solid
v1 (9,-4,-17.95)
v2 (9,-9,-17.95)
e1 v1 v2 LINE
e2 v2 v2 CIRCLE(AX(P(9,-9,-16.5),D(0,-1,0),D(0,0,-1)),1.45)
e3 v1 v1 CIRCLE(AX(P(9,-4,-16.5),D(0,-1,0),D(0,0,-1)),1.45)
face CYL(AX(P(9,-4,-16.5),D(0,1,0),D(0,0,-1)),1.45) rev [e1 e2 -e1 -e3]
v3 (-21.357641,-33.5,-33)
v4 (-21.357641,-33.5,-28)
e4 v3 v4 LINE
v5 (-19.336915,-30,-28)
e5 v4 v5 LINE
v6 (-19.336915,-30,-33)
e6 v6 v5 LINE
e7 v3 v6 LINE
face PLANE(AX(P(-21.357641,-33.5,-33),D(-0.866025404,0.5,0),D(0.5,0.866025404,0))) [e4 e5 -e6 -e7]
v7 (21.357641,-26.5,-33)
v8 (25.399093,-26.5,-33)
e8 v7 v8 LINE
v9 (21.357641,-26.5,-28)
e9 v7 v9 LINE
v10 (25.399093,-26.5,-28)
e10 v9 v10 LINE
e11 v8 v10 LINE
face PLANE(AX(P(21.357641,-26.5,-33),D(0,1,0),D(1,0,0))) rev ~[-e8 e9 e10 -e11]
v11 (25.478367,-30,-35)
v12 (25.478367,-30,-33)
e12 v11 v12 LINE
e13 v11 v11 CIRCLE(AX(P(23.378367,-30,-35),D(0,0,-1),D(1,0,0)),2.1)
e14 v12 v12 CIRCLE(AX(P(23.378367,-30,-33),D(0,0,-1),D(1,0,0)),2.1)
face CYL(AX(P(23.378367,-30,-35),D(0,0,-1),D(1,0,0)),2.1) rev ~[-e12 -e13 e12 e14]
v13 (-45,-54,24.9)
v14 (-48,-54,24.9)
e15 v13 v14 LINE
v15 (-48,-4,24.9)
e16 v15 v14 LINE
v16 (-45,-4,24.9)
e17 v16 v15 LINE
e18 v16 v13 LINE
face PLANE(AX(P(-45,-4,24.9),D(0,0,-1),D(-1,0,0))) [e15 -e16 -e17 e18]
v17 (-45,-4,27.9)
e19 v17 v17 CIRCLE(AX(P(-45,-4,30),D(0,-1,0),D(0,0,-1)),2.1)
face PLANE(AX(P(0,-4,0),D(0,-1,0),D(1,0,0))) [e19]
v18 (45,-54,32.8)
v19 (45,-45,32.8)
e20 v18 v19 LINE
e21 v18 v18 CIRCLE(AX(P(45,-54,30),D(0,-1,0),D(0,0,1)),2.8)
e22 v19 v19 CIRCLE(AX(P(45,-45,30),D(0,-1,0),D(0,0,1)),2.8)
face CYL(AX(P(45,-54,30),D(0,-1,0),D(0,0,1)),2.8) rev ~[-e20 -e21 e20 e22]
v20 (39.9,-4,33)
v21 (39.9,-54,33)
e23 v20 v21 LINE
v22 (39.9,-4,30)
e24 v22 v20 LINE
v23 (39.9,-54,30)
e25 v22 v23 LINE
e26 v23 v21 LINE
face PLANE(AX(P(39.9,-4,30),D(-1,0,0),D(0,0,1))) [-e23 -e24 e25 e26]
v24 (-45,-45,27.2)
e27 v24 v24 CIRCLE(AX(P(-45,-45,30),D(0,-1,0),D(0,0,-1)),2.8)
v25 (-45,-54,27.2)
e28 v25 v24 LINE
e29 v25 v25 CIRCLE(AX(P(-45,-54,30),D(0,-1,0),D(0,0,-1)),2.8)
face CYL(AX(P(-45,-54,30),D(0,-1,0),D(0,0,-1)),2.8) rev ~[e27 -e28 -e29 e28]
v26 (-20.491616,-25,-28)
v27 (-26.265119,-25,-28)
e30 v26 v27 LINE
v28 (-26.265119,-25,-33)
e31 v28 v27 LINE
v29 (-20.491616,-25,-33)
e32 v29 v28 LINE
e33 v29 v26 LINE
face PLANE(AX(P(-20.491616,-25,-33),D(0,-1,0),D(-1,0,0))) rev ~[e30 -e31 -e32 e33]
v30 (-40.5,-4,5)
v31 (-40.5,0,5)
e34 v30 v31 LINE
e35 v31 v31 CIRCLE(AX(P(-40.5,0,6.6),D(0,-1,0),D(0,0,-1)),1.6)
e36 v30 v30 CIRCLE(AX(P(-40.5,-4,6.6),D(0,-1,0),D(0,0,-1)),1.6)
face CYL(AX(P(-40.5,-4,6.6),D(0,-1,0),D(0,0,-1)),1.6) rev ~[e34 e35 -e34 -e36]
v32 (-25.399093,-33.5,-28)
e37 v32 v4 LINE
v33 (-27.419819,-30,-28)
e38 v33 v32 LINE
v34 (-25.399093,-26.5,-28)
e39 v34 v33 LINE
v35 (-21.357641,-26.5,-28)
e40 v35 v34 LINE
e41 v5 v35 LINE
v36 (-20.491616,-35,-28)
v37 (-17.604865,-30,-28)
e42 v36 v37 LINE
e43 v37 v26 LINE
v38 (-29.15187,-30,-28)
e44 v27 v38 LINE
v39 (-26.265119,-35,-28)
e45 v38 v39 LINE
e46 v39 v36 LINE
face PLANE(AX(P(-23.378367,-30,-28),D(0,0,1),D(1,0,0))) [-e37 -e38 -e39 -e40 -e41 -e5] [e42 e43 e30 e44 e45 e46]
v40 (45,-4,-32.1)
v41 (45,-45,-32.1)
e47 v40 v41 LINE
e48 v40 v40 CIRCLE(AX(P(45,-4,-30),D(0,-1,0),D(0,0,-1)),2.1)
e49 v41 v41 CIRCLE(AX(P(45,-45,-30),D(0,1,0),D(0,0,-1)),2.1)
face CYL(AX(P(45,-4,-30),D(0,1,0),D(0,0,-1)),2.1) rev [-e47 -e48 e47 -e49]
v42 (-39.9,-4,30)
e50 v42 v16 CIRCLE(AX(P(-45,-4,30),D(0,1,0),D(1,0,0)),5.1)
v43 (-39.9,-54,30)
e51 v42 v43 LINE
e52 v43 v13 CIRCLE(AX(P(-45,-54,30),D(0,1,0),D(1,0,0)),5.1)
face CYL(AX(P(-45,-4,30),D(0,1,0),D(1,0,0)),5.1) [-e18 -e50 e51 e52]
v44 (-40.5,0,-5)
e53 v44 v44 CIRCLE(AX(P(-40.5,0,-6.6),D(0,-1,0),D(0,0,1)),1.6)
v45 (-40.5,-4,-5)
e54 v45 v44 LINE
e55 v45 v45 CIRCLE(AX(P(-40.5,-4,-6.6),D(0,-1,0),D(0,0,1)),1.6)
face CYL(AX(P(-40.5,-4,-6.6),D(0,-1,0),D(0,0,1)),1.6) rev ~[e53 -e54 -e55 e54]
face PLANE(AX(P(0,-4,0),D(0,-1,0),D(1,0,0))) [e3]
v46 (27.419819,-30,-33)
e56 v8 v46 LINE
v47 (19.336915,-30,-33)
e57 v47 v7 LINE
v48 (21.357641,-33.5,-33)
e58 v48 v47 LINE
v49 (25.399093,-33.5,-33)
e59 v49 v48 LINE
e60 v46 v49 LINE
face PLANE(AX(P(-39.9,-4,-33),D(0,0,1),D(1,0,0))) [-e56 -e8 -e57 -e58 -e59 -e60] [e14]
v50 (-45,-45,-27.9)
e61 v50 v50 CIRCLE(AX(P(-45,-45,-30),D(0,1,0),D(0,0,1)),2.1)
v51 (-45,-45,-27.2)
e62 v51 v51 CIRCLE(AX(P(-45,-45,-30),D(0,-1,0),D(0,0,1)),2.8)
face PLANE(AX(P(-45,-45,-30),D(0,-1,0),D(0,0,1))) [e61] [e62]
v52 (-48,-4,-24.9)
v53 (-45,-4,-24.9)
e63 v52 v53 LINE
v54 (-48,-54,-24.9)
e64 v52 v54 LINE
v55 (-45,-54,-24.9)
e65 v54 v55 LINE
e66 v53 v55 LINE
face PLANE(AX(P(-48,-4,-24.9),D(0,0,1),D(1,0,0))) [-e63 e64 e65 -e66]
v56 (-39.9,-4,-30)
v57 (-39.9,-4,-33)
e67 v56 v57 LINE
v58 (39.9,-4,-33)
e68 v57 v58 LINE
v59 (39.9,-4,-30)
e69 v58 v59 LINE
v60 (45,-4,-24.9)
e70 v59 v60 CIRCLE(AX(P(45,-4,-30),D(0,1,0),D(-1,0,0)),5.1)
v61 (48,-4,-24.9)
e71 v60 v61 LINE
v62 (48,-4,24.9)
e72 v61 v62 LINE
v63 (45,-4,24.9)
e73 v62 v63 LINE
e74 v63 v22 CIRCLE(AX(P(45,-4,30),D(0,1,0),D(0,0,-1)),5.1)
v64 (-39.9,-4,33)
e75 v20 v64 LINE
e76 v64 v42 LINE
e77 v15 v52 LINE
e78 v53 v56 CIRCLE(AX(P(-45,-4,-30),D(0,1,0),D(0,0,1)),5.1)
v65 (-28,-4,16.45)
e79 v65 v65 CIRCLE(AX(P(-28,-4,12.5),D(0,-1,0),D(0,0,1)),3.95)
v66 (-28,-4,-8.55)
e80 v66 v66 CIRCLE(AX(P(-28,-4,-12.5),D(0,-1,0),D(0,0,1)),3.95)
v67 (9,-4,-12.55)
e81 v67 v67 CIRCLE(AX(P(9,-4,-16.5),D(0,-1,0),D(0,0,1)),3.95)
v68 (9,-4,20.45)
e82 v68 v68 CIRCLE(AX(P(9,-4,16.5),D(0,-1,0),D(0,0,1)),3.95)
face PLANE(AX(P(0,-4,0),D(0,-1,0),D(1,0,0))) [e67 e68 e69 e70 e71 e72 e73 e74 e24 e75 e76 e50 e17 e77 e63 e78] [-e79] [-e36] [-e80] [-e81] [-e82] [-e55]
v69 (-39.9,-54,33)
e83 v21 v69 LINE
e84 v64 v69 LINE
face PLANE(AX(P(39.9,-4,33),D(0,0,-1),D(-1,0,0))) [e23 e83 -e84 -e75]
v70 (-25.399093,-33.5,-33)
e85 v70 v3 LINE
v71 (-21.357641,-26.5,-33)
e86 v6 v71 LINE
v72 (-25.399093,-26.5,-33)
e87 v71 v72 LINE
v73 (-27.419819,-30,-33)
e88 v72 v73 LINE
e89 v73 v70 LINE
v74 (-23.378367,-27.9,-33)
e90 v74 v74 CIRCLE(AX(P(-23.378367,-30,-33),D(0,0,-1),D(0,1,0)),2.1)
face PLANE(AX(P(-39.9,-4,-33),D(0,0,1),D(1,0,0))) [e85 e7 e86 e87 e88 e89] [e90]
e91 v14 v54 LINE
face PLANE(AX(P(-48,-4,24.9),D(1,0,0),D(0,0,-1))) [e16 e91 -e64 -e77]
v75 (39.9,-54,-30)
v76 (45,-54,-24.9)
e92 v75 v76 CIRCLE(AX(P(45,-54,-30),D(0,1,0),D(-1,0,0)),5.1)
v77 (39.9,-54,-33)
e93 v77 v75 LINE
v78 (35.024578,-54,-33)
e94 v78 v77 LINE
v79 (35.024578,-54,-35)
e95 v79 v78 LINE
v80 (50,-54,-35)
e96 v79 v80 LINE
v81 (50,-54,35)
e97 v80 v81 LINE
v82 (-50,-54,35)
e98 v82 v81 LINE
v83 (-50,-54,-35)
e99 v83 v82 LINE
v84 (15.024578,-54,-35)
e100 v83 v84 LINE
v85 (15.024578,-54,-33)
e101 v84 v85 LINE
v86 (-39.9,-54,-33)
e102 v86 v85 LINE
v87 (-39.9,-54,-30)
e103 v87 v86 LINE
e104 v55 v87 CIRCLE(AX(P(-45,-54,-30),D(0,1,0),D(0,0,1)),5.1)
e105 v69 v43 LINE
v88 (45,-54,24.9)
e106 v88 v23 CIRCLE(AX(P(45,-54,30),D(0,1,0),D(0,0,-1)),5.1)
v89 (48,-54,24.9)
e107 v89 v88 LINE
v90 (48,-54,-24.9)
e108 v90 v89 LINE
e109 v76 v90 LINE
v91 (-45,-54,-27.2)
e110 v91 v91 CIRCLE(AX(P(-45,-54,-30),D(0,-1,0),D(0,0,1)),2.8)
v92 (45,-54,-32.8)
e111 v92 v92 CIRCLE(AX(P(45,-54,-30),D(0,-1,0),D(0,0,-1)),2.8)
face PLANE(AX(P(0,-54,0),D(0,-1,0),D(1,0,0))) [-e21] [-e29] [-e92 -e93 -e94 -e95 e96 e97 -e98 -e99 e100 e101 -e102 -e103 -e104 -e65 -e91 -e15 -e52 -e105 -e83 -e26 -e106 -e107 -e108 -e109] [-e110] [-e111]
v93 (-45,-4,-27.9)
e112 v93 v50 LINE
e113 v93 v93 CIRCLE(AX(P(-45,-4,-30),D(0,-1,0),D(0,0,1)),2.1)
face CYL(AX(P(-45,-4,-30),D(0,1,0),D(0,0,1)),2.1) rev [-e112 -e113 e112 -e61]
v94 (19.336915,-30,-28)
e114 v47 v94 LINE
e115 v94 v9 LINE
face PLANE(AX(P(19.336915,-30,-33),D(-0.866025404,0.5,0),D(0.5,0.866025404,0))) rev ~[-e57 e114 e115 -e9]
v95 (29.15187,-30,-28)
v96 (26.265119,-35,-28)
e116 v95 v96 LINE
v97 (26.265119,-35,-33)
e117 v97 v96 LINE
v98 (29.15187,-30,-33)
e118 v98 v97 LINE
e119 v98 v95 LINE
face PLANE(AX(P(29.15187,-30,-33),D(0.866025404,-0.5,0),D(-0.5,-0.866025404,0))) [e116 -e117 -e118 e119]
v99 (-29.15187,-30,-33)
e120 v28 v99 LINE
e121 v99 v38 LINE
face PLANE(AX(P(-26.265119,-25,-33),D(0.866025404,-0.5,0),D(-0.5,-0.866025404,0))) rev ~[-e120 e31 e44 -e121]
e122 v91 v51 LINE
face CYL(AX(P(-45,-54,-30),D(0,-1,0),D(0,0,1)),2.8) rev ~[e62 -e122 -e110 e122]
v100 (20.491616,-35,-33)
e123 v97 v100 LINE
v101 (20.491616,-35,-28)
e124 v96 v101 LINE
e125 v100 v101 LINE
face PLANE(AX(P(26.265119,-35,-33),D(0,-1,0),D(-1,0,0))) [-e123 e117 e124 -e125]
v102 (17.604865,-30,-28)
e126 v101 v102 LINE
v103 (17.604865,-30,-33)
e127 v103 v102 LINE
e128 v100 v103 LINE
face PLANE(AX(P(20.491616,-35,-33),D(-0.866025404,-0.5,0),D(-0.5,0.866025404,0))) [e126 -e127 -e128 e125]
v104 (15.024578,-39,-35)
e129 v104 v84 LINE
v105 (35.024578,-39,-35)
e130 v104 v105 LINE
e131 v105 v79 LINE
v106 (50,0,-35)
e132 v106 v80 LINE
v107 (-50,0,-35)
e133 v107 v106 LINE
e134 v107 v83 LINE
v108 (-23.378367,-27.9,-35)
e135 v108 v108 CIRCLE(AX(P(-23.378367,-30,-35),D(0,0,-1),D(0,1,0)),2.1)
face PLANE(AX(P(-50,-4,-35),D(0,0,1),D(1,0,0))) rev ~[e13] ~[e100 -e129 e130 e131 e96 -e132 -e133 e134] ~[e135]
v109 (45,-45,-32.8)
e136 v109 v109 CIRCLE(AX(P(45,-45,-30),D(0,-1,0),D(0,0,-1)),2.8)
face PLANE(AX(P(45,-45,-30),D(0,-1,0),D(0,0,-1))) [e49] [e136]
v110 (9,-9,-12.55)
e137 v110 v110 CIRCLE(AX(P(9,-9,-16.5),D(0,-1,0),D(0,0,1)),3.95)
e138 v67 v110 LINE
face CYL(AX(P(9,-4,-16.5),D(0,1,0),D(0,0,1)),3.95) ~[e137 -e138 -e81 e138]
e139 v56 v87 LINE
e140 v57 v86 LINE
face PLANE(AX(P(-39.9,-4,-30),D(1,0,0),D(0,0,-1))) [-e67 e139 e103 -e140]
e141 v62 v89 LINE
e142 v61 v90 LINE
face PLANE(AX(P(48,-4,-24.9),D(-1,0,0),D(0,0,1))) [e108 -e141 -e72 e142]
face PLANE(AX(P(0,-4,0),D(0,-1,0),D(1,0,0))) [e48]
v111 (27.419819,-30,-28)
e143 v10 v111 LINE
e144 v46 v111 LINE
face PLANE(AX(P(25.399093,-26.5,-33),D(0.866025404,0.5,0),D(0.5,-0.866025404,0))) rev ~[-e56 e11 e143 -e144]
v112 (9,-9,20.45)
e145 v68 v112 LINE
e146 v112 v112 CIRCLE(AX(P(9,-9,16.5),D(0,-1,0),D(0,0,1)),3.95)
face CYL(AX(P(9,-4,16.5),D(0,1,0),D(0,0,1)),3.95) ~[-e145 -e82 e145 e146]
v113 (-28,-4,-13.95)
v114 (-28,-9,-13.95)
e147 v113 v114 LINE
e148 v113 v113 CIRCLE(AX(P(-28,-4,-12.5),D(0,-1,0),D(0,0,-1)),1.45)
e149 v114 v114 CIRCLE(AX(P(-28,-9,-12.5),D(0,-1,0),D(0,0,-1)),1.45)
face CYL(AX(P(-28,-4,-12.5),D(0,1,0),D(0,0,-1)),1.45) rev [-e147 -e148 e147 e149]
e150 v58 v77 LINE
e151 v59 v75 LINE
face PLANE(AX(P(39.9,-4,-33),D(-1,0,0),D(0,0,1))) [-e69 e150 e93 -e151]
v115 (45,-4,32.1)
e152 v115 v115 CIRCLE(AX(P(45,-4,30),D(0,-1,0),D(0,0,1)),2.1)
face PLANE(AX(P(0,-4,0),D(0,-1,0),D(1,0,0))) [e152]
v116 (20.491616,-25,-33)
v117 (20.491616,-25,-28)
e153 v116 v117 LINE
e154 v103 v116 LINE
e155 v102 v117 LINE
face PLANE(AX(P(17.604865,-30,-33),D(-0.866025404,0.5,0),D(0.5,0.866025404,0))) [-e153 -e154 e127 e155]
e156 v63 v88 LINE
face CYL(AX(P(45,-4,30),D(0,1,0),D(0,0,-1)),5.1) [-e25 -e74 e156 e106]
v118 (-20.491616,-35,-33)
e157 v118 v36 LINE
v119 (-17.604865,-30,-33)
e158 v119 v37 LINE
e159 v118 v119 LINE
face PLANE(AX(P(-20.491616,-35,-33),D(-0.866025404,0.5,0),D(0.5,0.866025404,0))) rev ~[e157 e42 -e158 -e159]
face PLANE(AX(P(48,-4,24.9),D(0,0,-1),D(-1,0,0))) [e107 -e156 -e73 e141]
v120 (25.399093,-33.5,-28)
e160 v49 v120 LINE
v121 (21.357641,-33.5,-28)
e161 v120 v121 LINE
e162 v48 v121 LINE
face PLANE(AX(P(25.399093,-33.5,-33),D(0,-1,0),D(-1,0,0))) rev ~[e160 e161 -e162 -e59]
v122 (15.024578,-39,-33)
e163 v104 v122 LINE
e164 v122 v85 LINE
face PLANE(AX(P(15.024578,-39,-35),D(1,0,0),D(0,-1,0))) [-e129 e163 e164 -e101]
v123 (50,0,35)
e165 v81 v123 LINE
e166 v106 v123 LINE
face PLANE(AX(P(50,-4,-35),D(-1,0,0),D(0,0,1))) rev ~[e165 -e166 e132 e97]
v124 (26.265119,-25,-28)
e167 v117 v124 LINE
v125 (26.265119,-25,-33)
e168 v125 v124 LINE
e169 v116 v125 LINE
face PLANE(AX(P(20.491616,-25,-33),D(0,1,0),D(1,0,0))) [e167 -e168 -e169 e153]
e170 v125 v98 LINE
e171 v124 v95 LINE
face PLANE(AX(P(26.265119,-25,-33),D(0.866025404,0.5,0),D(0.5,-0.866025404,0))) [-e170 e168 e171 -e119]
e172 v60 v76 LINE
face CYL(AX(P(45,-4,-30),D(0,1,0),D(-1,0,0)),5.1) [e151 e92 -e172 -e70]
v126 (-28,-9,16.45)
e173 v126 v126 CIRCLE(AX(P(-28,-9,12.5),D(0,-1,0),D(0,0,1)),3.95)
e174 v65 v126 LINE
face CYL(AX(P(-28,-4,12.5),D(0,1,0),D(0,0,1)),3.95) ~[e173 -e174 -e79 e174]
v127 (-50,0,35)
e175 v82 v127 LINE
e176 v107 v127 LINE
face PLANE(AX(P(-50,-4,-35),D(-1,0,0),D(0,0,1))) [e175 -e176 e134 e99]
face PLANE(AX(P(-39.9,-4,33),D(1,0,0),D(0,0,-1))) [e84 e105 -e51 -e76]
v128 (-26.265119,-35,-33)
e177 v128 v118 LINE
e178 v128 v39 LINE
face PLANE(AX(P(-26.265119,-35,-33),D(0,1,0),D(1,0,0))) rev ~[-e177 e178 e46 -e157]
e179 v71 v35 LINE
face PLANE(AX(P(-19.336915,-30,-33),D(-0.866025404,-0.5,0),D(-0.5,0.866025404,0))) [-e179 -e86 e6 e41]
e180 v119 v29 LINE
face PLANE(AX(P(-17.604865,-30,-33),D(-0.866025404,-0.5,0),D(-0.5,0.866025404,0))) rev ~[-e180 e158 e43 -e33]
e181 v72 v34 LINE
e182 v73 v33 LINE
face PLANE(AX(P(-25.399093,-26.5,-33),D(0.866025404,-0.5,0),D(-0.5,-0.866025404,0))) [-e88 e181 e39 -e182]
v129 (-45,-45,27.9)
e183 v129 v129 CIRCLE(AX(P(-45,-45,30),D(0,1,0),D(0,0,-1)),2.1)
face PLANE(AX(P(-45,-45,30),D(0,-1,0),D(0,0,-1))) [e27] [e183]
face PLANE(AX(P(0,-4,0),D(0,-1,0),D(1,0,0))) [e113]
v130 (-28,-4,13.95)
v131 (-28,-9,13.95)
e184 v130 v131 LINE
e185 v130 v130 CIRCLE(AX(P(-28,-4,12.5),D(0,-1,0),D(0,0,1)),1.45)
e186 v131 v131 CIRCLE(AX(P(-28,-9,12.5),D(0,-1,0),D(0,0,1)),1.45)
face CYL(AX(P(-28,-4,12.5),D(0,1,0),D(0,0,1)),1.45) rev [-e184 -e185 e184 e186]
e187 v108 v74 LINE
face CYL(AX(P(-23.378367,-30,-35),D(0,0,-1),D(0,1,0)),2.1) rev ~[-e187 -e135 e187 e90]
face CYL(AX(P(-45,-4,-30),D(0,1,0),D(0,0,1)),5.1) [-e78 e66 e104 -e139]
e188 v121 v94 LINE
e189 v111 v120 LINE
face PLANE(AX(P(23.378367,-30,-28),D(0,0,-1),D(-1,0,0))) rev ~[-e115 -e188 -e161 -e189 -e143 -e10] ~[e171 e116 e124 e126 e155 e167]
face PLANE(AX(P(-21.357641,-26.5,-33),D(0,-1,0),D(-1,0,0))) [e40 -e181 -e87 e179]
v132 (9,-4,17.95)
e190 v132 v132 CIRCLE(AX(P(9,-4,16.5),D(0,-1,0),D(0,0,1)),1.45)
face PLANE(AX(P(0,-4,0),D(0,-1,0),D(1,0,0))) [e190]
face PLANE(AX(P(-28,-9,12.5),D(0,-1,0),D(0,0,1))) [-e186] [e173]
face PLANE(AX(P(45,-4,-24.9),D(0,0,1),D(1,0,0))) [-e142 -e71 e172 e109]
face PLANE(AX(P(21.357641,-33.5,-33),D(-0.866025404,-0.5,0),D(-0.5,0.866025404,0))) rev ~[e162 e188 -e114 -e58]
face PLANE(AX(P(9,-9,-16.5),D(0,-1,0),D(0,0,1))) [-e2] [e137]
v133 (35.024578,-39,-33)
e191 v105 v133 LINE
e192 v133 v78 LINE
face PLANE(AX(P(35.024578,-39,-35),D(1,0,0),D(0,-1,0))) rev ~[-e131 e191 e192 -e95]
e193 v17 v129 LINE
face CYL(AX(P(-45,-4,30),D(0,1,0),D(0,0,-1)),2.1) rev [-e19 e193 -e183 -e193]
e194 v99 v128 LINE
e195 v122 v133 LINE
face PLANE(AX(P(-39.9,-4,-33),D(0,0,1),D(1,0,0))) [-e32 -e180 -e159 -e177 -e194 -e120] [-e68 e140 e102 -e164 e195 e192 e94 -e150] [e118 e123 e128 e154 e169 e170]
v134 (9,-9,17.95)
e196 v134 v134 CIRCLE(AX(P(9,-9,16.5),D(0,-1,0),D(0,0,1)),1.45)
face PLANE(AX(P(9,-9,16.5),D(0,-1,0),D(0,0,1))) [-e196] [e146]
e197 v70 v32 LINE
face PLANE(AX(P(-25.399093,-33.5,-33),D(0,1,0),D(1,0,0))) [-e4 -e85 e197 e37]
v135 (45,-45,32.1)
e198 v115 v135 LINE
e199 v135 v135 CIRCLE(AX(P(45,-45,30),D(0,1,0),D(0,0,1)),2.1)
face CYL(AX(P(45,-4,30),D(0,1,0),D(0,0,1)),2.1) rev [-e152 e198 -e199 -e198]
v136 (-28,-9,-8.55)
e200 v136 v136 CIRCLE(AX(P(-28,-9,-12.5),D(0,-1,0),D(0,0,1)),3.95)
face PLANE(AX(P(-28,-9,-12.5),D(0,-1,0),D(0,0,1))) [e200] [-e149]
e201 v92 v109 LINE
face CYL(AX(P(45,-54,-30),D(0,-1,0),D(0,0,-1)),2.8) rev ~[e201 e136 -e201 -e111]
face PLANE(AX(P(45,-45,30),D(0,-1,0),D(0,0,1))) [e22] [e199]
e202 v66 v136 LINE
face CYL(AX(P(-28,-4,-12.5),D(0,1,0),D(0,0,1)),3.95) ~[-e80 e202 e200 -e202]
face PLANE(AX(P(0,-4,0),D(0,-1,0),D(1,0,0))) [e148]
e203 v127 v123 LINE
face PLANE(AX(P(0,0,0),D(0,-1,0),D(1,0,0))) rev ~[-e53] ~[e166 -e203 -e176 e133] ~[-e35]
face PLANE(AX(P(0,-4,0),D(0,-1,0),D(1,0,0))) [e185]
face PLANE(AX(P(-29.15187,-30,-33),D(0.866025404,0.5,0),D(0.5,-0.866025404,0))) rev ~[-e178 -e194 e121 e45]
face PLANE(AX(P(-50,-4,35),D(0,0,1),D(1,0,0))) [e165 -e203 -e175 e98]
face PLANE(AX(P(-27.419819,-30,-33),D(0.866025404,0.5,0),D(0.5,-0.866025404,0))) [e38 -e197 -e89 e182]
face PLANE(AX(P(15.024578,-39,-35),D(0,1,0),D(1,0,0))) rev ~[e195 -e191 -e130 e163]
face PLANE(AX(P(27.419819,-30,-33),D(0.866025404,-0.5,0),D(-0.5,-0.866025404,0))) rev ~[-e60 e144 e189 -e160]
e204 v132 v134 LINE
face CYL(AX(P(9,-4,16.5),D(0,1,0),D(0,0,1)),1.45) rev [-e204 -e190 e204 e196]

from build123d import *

# Parameters (mm, degrees)
SKIZZE1_W                       = 100
SKIZZE1_H                       = 70
AUFSATZ_LINEAR_AUSTRAGEN1_DEPTH = 4
SKIZZE2_W                       = 100
SKIZZE2_H                       = 70
SKIZZE2_R                       = 2.1
AUFSATZ_LINEAR_AUSTRAGEN2_DEPTH = 50
SKIZZE3_R                       = 2.8
SCHNITT_LINEAR_AUSTRAGEN1_DEPTH = 9
SCHNITT_LINEAR_AUSTRAGEN3_REACH = 80.899
SKIZZE5_R                       = 1.6
SKIZZE6_R                       = 2.1
SKIZZE6_W                       = 20
SKIZZE6_H                       = 15
SCHNITT_LINEAR_AUSTRAGEN4_DEPTH = 2
AUFSATZ_LINEAR_AUSTRAGEN3_DEPTH = 5
SKETCH2_R                       = 3.95
SKETCH2_R_2                     = 1.45
BOSS_EXTRUDE1_DEPTH             = 5


with BuildPart() as part:
    # Skizze1 → Aufsatz-Linear austragen1 (new body)
    with BuildSketch(Plane.XZ):
        Rectangle(SKIZZE1_W, SKIZZE1_H)
    extrude(amount=AUFSATZ_LINEAR_AUSTRAGEN1_DEPTH)

    # Skizze2 → Aufsatz-Linear austragen2 (add)
    with BuildSketch(Plane.XZ.offset(4)):
        Rectangle(SKIZZE2_W, SKIZZE2_H)
        with Locations(Location((-45, 30, 0), (0, 0, 270))):
            Circle(SKIZZE2_R, mode=Mode.SUBTRACT)
        with Locations(Location((45, 30, 0), (0, 0, 90))):
            Circle(SKIZZE2_R, mode=Mode.SUBTRACT)
        with Locations(Location((45, -30, 0), (0, 0, 270))):
            Circle(SKIZZE2_R, mode=Mode.SUBTRACT)
        with Locations(Location((-45, -30, 0), (0, 0, 90))):
            Circle(SKIZZE2_R, mode=Mode.SUBTRACT)
        with BuildLine():
            Line((-48, 24.9), (-48, -24.9))
            Line((-48, -24.9), (-45, -24.9))
            ThreePointArc((-45, -24.9), (-41.393755416, -26.393755416), (-39.9, -30))
            Line((-39.9, -30), (-39.9, -33))
            Line((-39.9, -33), (39.9, -33))
            Line((39.9, -33), (39.9, -30))
            ThreePointArc((39.9, -30), (41.393755416, -26.393755416), (45, -24.9))
            Line((45, -24.9), (48, -24.9))
            Line((48, -24.9), (48, 24.9))
            Line((48, 24.9), (45, 24.9))
            ThreePointArc((45, 24.9), (41.393755416, 26.393755416), (39.9, 30))
            Line((39.9, 30), (39.9, 33))
            Line((39.9, 33), (-39.9, 33))
            Line((-39.9, 33), (-39.9, 30))
            ThreePointArc((-39.9, 30), (-41.393755416, 26.393755416), (-45, 24.9))
            Line((-45, 24.9), (-48, 24.9))
        make_face(mode=Mode.SUBTRACT)
    extrude(amount=AUFSATZ_LINEAR_AUSTRAGEN2_DEPTH)

    # Skizze3 → Schnitt-Linear austragen1 (cut)
    with BuildSketch(Plane.XZ.offset(54)):
        with Locations(Location((-45, 30, 0), (0, 0, 270))):
            Circle(SKIZZE3_R)
        with Locations(Location((45, 30, 0), (0, 0, 90))):
            Circle(SKIZZE3_R)
        with Locations(Location((45, -30, 0), (0, 0, 270))):
            Circle(SKIZZE3_R)
        with Locations(Location((-45, -30, 0), (0, 0, 90))):
            Circle(SKIZZE3_R)
    extrude(amount=-SCHNITT_LINEAR_AUSTRAGEN1_DEPTH, mode=Mode.SUBTRACT)

    # Skizze5 → Schnitt-Linear austragen3 (cut, up to next)
    with BuildSketch(Plane.XZ.offset(4), mode=Mode.PRIVATE) as schnitt_linear_austragen3_sk1:
        with Locations(Location((-40.5, 6.6, 0), (0, 0, 270))):
            Circle(SKIZZE5_R)
    schnitt_linear_austragen3_tool1 = extrude(schnitt_linear_austragen3_sk1.sketch, amount=-SCHNITT_LINEAR_AUSTRAGEN3_REACH, mode=Mode.PRIVATE) & part.part
    # Skizze5 → Schnitt-Linear austragen3 (cut, up to next)
    with BuildSketch(Plane.XZ.offset(4), mode=Mode.PRIVATE) as schnitt_linear_austragen3_sk2:
        with Locations(Location((-40.5, -6.6, 0), (0, 0, 90))):
            Circle(SKIZZE5_R)
    schnitt_linear_austragen3_tool2 = extrude(schnitt_linear_austragen3_sk2.sketch, amount=-SCHNITT_LINEAR_AUSTRAGEN3_REACH, mode=Mode.PRIVATE) & part.part
    add(schnitt_linear_austragen3_tool1.solids().sort_by_distance((-40.5, -4, 6.6))[0], mode=Mode.SUBTRACT)
    add(schnitt_linear_austragen3_tool2.solids().sort_by_distance((-40.5, -4, -6.6))[0], mode=Mode.SUBTRACT)

    # Skizze6 → Schnitt-Linear austragen4 (cut)
    with BuildSketch(Plane(origin=(0, 0, -35), x_dir=(1, 0, 0), z_dir=(0, 0, -1))):
        with Locations(Location((-23.378367252, 30, 0), (0, 0, 270))):
            Circle(SKIZZE6_R)
        with Locations((23.378367252, 30)):
            Circle(SKIZZE6_R)
        with Locations((25.02457838, 46.5)):
            Rectangle(SKIZZE6_W, SKIZZE6_H)
    extrude(amount=-SCHNITT_LINEAR_AUSTRAGEN4_DEPTH, mode=Mode.SUBTRACT)

    # Skizze7 → Aufsatz-Linear austragen3 (add)
    # profile 1 of 2: a face of its own
    with BuildSketch(Plane.XY.offset(-33)):
        Polygon((-17.604864561, -30), (-20.491615906, -25), (-26.265118598, -25), (-29.151869944, -30), (-26.265118598, -35), (-20.491615906, -35), align=None)
        Polygon((-19.336915368, -30), (-21.35764131, -26.5), (-25.399093195, -26.5), (-27.419819137, -30), (-25.399093195, -33.5), (-21.35764131, -33.5), align=None, mode=Mode.SUBTRACT)
    # profile 2 of 2: a face of its own
    with BuildSketch(Plane.XY.offset(-33)):
        Polygon((20.491615906, -35), (17.604864561, -30), (20.491615906, -25), (26.265118598, -25), (29.151869944, -30), (26.265118598, -35), align=None)
        Polygon((21.35764131, -33.5), (19.336915368, -30), (21.35764131, -26.5), (25.399093195, -26.5), (27.419819137, -30), (25.399093195, -33.5), align=None, mode=Mode.SUBTRACT)
    extrude(amount=AUFSATZ_LINEAR_AUSTRAGEN3_DEPTH)

    # Sketch2 → Boss-Extrude1 (add)
    # profile 1 of 4: a face of its own
    with BuildSketch(Plane.XZ.offset(4)):
        with Locations(Location((-28, -12.5, 0), (0, 0, 90))):
            Circle(SKETCH2_R)
        with Locations(Location((-28, -12.5, 0), (0, 0, 270))):
            Circle(SKETCH2_R_2, mode=Mode.SUBTRACT)
    # profile 2 of 4: a face of its own
    with BuildSketch(Plane.XZ.offset(4)):
        with Locations(Location((9, -16.5, 0), (0, 0, 90))):
            Circle(SKETCH2_R)
        with Locations(Location((9, -16.5, 0), (0, 0, 270))):
            Circle(SKETCH2_R_2, mode=Mode.SUBTRACT)
    # profile 3 of 4: a face of its own
    with BuildSketch(Plane.XZ.offset(4)):
        with Locations(Location((9, 16.5, 0), (0, 0, 90))):
            Circle(SKETCH2_R)
        with Locations(Location((9, 16.5, 0), (0, 0, 90))):
            Circle(SKETCH2_R_2, mode=Mode.SUBTRACT)
    # profile 4 of 4: a face of its own
    with BuildSketch(Plane.XZ.offset(4)):
        with Locations(Location((-28, 12.5, 0), (0, 0, 90))):
            Circle(SKETCH2_R)
        with Locations(Location((-28, 12.5, 0), (0, 0, 90))):
            Circle(SKETCH2_R_2, mode=Mode.SUBTRACT)
    extrude(amount=BOSS_EXTRUDE1_DEPTH)


solid = part.part
